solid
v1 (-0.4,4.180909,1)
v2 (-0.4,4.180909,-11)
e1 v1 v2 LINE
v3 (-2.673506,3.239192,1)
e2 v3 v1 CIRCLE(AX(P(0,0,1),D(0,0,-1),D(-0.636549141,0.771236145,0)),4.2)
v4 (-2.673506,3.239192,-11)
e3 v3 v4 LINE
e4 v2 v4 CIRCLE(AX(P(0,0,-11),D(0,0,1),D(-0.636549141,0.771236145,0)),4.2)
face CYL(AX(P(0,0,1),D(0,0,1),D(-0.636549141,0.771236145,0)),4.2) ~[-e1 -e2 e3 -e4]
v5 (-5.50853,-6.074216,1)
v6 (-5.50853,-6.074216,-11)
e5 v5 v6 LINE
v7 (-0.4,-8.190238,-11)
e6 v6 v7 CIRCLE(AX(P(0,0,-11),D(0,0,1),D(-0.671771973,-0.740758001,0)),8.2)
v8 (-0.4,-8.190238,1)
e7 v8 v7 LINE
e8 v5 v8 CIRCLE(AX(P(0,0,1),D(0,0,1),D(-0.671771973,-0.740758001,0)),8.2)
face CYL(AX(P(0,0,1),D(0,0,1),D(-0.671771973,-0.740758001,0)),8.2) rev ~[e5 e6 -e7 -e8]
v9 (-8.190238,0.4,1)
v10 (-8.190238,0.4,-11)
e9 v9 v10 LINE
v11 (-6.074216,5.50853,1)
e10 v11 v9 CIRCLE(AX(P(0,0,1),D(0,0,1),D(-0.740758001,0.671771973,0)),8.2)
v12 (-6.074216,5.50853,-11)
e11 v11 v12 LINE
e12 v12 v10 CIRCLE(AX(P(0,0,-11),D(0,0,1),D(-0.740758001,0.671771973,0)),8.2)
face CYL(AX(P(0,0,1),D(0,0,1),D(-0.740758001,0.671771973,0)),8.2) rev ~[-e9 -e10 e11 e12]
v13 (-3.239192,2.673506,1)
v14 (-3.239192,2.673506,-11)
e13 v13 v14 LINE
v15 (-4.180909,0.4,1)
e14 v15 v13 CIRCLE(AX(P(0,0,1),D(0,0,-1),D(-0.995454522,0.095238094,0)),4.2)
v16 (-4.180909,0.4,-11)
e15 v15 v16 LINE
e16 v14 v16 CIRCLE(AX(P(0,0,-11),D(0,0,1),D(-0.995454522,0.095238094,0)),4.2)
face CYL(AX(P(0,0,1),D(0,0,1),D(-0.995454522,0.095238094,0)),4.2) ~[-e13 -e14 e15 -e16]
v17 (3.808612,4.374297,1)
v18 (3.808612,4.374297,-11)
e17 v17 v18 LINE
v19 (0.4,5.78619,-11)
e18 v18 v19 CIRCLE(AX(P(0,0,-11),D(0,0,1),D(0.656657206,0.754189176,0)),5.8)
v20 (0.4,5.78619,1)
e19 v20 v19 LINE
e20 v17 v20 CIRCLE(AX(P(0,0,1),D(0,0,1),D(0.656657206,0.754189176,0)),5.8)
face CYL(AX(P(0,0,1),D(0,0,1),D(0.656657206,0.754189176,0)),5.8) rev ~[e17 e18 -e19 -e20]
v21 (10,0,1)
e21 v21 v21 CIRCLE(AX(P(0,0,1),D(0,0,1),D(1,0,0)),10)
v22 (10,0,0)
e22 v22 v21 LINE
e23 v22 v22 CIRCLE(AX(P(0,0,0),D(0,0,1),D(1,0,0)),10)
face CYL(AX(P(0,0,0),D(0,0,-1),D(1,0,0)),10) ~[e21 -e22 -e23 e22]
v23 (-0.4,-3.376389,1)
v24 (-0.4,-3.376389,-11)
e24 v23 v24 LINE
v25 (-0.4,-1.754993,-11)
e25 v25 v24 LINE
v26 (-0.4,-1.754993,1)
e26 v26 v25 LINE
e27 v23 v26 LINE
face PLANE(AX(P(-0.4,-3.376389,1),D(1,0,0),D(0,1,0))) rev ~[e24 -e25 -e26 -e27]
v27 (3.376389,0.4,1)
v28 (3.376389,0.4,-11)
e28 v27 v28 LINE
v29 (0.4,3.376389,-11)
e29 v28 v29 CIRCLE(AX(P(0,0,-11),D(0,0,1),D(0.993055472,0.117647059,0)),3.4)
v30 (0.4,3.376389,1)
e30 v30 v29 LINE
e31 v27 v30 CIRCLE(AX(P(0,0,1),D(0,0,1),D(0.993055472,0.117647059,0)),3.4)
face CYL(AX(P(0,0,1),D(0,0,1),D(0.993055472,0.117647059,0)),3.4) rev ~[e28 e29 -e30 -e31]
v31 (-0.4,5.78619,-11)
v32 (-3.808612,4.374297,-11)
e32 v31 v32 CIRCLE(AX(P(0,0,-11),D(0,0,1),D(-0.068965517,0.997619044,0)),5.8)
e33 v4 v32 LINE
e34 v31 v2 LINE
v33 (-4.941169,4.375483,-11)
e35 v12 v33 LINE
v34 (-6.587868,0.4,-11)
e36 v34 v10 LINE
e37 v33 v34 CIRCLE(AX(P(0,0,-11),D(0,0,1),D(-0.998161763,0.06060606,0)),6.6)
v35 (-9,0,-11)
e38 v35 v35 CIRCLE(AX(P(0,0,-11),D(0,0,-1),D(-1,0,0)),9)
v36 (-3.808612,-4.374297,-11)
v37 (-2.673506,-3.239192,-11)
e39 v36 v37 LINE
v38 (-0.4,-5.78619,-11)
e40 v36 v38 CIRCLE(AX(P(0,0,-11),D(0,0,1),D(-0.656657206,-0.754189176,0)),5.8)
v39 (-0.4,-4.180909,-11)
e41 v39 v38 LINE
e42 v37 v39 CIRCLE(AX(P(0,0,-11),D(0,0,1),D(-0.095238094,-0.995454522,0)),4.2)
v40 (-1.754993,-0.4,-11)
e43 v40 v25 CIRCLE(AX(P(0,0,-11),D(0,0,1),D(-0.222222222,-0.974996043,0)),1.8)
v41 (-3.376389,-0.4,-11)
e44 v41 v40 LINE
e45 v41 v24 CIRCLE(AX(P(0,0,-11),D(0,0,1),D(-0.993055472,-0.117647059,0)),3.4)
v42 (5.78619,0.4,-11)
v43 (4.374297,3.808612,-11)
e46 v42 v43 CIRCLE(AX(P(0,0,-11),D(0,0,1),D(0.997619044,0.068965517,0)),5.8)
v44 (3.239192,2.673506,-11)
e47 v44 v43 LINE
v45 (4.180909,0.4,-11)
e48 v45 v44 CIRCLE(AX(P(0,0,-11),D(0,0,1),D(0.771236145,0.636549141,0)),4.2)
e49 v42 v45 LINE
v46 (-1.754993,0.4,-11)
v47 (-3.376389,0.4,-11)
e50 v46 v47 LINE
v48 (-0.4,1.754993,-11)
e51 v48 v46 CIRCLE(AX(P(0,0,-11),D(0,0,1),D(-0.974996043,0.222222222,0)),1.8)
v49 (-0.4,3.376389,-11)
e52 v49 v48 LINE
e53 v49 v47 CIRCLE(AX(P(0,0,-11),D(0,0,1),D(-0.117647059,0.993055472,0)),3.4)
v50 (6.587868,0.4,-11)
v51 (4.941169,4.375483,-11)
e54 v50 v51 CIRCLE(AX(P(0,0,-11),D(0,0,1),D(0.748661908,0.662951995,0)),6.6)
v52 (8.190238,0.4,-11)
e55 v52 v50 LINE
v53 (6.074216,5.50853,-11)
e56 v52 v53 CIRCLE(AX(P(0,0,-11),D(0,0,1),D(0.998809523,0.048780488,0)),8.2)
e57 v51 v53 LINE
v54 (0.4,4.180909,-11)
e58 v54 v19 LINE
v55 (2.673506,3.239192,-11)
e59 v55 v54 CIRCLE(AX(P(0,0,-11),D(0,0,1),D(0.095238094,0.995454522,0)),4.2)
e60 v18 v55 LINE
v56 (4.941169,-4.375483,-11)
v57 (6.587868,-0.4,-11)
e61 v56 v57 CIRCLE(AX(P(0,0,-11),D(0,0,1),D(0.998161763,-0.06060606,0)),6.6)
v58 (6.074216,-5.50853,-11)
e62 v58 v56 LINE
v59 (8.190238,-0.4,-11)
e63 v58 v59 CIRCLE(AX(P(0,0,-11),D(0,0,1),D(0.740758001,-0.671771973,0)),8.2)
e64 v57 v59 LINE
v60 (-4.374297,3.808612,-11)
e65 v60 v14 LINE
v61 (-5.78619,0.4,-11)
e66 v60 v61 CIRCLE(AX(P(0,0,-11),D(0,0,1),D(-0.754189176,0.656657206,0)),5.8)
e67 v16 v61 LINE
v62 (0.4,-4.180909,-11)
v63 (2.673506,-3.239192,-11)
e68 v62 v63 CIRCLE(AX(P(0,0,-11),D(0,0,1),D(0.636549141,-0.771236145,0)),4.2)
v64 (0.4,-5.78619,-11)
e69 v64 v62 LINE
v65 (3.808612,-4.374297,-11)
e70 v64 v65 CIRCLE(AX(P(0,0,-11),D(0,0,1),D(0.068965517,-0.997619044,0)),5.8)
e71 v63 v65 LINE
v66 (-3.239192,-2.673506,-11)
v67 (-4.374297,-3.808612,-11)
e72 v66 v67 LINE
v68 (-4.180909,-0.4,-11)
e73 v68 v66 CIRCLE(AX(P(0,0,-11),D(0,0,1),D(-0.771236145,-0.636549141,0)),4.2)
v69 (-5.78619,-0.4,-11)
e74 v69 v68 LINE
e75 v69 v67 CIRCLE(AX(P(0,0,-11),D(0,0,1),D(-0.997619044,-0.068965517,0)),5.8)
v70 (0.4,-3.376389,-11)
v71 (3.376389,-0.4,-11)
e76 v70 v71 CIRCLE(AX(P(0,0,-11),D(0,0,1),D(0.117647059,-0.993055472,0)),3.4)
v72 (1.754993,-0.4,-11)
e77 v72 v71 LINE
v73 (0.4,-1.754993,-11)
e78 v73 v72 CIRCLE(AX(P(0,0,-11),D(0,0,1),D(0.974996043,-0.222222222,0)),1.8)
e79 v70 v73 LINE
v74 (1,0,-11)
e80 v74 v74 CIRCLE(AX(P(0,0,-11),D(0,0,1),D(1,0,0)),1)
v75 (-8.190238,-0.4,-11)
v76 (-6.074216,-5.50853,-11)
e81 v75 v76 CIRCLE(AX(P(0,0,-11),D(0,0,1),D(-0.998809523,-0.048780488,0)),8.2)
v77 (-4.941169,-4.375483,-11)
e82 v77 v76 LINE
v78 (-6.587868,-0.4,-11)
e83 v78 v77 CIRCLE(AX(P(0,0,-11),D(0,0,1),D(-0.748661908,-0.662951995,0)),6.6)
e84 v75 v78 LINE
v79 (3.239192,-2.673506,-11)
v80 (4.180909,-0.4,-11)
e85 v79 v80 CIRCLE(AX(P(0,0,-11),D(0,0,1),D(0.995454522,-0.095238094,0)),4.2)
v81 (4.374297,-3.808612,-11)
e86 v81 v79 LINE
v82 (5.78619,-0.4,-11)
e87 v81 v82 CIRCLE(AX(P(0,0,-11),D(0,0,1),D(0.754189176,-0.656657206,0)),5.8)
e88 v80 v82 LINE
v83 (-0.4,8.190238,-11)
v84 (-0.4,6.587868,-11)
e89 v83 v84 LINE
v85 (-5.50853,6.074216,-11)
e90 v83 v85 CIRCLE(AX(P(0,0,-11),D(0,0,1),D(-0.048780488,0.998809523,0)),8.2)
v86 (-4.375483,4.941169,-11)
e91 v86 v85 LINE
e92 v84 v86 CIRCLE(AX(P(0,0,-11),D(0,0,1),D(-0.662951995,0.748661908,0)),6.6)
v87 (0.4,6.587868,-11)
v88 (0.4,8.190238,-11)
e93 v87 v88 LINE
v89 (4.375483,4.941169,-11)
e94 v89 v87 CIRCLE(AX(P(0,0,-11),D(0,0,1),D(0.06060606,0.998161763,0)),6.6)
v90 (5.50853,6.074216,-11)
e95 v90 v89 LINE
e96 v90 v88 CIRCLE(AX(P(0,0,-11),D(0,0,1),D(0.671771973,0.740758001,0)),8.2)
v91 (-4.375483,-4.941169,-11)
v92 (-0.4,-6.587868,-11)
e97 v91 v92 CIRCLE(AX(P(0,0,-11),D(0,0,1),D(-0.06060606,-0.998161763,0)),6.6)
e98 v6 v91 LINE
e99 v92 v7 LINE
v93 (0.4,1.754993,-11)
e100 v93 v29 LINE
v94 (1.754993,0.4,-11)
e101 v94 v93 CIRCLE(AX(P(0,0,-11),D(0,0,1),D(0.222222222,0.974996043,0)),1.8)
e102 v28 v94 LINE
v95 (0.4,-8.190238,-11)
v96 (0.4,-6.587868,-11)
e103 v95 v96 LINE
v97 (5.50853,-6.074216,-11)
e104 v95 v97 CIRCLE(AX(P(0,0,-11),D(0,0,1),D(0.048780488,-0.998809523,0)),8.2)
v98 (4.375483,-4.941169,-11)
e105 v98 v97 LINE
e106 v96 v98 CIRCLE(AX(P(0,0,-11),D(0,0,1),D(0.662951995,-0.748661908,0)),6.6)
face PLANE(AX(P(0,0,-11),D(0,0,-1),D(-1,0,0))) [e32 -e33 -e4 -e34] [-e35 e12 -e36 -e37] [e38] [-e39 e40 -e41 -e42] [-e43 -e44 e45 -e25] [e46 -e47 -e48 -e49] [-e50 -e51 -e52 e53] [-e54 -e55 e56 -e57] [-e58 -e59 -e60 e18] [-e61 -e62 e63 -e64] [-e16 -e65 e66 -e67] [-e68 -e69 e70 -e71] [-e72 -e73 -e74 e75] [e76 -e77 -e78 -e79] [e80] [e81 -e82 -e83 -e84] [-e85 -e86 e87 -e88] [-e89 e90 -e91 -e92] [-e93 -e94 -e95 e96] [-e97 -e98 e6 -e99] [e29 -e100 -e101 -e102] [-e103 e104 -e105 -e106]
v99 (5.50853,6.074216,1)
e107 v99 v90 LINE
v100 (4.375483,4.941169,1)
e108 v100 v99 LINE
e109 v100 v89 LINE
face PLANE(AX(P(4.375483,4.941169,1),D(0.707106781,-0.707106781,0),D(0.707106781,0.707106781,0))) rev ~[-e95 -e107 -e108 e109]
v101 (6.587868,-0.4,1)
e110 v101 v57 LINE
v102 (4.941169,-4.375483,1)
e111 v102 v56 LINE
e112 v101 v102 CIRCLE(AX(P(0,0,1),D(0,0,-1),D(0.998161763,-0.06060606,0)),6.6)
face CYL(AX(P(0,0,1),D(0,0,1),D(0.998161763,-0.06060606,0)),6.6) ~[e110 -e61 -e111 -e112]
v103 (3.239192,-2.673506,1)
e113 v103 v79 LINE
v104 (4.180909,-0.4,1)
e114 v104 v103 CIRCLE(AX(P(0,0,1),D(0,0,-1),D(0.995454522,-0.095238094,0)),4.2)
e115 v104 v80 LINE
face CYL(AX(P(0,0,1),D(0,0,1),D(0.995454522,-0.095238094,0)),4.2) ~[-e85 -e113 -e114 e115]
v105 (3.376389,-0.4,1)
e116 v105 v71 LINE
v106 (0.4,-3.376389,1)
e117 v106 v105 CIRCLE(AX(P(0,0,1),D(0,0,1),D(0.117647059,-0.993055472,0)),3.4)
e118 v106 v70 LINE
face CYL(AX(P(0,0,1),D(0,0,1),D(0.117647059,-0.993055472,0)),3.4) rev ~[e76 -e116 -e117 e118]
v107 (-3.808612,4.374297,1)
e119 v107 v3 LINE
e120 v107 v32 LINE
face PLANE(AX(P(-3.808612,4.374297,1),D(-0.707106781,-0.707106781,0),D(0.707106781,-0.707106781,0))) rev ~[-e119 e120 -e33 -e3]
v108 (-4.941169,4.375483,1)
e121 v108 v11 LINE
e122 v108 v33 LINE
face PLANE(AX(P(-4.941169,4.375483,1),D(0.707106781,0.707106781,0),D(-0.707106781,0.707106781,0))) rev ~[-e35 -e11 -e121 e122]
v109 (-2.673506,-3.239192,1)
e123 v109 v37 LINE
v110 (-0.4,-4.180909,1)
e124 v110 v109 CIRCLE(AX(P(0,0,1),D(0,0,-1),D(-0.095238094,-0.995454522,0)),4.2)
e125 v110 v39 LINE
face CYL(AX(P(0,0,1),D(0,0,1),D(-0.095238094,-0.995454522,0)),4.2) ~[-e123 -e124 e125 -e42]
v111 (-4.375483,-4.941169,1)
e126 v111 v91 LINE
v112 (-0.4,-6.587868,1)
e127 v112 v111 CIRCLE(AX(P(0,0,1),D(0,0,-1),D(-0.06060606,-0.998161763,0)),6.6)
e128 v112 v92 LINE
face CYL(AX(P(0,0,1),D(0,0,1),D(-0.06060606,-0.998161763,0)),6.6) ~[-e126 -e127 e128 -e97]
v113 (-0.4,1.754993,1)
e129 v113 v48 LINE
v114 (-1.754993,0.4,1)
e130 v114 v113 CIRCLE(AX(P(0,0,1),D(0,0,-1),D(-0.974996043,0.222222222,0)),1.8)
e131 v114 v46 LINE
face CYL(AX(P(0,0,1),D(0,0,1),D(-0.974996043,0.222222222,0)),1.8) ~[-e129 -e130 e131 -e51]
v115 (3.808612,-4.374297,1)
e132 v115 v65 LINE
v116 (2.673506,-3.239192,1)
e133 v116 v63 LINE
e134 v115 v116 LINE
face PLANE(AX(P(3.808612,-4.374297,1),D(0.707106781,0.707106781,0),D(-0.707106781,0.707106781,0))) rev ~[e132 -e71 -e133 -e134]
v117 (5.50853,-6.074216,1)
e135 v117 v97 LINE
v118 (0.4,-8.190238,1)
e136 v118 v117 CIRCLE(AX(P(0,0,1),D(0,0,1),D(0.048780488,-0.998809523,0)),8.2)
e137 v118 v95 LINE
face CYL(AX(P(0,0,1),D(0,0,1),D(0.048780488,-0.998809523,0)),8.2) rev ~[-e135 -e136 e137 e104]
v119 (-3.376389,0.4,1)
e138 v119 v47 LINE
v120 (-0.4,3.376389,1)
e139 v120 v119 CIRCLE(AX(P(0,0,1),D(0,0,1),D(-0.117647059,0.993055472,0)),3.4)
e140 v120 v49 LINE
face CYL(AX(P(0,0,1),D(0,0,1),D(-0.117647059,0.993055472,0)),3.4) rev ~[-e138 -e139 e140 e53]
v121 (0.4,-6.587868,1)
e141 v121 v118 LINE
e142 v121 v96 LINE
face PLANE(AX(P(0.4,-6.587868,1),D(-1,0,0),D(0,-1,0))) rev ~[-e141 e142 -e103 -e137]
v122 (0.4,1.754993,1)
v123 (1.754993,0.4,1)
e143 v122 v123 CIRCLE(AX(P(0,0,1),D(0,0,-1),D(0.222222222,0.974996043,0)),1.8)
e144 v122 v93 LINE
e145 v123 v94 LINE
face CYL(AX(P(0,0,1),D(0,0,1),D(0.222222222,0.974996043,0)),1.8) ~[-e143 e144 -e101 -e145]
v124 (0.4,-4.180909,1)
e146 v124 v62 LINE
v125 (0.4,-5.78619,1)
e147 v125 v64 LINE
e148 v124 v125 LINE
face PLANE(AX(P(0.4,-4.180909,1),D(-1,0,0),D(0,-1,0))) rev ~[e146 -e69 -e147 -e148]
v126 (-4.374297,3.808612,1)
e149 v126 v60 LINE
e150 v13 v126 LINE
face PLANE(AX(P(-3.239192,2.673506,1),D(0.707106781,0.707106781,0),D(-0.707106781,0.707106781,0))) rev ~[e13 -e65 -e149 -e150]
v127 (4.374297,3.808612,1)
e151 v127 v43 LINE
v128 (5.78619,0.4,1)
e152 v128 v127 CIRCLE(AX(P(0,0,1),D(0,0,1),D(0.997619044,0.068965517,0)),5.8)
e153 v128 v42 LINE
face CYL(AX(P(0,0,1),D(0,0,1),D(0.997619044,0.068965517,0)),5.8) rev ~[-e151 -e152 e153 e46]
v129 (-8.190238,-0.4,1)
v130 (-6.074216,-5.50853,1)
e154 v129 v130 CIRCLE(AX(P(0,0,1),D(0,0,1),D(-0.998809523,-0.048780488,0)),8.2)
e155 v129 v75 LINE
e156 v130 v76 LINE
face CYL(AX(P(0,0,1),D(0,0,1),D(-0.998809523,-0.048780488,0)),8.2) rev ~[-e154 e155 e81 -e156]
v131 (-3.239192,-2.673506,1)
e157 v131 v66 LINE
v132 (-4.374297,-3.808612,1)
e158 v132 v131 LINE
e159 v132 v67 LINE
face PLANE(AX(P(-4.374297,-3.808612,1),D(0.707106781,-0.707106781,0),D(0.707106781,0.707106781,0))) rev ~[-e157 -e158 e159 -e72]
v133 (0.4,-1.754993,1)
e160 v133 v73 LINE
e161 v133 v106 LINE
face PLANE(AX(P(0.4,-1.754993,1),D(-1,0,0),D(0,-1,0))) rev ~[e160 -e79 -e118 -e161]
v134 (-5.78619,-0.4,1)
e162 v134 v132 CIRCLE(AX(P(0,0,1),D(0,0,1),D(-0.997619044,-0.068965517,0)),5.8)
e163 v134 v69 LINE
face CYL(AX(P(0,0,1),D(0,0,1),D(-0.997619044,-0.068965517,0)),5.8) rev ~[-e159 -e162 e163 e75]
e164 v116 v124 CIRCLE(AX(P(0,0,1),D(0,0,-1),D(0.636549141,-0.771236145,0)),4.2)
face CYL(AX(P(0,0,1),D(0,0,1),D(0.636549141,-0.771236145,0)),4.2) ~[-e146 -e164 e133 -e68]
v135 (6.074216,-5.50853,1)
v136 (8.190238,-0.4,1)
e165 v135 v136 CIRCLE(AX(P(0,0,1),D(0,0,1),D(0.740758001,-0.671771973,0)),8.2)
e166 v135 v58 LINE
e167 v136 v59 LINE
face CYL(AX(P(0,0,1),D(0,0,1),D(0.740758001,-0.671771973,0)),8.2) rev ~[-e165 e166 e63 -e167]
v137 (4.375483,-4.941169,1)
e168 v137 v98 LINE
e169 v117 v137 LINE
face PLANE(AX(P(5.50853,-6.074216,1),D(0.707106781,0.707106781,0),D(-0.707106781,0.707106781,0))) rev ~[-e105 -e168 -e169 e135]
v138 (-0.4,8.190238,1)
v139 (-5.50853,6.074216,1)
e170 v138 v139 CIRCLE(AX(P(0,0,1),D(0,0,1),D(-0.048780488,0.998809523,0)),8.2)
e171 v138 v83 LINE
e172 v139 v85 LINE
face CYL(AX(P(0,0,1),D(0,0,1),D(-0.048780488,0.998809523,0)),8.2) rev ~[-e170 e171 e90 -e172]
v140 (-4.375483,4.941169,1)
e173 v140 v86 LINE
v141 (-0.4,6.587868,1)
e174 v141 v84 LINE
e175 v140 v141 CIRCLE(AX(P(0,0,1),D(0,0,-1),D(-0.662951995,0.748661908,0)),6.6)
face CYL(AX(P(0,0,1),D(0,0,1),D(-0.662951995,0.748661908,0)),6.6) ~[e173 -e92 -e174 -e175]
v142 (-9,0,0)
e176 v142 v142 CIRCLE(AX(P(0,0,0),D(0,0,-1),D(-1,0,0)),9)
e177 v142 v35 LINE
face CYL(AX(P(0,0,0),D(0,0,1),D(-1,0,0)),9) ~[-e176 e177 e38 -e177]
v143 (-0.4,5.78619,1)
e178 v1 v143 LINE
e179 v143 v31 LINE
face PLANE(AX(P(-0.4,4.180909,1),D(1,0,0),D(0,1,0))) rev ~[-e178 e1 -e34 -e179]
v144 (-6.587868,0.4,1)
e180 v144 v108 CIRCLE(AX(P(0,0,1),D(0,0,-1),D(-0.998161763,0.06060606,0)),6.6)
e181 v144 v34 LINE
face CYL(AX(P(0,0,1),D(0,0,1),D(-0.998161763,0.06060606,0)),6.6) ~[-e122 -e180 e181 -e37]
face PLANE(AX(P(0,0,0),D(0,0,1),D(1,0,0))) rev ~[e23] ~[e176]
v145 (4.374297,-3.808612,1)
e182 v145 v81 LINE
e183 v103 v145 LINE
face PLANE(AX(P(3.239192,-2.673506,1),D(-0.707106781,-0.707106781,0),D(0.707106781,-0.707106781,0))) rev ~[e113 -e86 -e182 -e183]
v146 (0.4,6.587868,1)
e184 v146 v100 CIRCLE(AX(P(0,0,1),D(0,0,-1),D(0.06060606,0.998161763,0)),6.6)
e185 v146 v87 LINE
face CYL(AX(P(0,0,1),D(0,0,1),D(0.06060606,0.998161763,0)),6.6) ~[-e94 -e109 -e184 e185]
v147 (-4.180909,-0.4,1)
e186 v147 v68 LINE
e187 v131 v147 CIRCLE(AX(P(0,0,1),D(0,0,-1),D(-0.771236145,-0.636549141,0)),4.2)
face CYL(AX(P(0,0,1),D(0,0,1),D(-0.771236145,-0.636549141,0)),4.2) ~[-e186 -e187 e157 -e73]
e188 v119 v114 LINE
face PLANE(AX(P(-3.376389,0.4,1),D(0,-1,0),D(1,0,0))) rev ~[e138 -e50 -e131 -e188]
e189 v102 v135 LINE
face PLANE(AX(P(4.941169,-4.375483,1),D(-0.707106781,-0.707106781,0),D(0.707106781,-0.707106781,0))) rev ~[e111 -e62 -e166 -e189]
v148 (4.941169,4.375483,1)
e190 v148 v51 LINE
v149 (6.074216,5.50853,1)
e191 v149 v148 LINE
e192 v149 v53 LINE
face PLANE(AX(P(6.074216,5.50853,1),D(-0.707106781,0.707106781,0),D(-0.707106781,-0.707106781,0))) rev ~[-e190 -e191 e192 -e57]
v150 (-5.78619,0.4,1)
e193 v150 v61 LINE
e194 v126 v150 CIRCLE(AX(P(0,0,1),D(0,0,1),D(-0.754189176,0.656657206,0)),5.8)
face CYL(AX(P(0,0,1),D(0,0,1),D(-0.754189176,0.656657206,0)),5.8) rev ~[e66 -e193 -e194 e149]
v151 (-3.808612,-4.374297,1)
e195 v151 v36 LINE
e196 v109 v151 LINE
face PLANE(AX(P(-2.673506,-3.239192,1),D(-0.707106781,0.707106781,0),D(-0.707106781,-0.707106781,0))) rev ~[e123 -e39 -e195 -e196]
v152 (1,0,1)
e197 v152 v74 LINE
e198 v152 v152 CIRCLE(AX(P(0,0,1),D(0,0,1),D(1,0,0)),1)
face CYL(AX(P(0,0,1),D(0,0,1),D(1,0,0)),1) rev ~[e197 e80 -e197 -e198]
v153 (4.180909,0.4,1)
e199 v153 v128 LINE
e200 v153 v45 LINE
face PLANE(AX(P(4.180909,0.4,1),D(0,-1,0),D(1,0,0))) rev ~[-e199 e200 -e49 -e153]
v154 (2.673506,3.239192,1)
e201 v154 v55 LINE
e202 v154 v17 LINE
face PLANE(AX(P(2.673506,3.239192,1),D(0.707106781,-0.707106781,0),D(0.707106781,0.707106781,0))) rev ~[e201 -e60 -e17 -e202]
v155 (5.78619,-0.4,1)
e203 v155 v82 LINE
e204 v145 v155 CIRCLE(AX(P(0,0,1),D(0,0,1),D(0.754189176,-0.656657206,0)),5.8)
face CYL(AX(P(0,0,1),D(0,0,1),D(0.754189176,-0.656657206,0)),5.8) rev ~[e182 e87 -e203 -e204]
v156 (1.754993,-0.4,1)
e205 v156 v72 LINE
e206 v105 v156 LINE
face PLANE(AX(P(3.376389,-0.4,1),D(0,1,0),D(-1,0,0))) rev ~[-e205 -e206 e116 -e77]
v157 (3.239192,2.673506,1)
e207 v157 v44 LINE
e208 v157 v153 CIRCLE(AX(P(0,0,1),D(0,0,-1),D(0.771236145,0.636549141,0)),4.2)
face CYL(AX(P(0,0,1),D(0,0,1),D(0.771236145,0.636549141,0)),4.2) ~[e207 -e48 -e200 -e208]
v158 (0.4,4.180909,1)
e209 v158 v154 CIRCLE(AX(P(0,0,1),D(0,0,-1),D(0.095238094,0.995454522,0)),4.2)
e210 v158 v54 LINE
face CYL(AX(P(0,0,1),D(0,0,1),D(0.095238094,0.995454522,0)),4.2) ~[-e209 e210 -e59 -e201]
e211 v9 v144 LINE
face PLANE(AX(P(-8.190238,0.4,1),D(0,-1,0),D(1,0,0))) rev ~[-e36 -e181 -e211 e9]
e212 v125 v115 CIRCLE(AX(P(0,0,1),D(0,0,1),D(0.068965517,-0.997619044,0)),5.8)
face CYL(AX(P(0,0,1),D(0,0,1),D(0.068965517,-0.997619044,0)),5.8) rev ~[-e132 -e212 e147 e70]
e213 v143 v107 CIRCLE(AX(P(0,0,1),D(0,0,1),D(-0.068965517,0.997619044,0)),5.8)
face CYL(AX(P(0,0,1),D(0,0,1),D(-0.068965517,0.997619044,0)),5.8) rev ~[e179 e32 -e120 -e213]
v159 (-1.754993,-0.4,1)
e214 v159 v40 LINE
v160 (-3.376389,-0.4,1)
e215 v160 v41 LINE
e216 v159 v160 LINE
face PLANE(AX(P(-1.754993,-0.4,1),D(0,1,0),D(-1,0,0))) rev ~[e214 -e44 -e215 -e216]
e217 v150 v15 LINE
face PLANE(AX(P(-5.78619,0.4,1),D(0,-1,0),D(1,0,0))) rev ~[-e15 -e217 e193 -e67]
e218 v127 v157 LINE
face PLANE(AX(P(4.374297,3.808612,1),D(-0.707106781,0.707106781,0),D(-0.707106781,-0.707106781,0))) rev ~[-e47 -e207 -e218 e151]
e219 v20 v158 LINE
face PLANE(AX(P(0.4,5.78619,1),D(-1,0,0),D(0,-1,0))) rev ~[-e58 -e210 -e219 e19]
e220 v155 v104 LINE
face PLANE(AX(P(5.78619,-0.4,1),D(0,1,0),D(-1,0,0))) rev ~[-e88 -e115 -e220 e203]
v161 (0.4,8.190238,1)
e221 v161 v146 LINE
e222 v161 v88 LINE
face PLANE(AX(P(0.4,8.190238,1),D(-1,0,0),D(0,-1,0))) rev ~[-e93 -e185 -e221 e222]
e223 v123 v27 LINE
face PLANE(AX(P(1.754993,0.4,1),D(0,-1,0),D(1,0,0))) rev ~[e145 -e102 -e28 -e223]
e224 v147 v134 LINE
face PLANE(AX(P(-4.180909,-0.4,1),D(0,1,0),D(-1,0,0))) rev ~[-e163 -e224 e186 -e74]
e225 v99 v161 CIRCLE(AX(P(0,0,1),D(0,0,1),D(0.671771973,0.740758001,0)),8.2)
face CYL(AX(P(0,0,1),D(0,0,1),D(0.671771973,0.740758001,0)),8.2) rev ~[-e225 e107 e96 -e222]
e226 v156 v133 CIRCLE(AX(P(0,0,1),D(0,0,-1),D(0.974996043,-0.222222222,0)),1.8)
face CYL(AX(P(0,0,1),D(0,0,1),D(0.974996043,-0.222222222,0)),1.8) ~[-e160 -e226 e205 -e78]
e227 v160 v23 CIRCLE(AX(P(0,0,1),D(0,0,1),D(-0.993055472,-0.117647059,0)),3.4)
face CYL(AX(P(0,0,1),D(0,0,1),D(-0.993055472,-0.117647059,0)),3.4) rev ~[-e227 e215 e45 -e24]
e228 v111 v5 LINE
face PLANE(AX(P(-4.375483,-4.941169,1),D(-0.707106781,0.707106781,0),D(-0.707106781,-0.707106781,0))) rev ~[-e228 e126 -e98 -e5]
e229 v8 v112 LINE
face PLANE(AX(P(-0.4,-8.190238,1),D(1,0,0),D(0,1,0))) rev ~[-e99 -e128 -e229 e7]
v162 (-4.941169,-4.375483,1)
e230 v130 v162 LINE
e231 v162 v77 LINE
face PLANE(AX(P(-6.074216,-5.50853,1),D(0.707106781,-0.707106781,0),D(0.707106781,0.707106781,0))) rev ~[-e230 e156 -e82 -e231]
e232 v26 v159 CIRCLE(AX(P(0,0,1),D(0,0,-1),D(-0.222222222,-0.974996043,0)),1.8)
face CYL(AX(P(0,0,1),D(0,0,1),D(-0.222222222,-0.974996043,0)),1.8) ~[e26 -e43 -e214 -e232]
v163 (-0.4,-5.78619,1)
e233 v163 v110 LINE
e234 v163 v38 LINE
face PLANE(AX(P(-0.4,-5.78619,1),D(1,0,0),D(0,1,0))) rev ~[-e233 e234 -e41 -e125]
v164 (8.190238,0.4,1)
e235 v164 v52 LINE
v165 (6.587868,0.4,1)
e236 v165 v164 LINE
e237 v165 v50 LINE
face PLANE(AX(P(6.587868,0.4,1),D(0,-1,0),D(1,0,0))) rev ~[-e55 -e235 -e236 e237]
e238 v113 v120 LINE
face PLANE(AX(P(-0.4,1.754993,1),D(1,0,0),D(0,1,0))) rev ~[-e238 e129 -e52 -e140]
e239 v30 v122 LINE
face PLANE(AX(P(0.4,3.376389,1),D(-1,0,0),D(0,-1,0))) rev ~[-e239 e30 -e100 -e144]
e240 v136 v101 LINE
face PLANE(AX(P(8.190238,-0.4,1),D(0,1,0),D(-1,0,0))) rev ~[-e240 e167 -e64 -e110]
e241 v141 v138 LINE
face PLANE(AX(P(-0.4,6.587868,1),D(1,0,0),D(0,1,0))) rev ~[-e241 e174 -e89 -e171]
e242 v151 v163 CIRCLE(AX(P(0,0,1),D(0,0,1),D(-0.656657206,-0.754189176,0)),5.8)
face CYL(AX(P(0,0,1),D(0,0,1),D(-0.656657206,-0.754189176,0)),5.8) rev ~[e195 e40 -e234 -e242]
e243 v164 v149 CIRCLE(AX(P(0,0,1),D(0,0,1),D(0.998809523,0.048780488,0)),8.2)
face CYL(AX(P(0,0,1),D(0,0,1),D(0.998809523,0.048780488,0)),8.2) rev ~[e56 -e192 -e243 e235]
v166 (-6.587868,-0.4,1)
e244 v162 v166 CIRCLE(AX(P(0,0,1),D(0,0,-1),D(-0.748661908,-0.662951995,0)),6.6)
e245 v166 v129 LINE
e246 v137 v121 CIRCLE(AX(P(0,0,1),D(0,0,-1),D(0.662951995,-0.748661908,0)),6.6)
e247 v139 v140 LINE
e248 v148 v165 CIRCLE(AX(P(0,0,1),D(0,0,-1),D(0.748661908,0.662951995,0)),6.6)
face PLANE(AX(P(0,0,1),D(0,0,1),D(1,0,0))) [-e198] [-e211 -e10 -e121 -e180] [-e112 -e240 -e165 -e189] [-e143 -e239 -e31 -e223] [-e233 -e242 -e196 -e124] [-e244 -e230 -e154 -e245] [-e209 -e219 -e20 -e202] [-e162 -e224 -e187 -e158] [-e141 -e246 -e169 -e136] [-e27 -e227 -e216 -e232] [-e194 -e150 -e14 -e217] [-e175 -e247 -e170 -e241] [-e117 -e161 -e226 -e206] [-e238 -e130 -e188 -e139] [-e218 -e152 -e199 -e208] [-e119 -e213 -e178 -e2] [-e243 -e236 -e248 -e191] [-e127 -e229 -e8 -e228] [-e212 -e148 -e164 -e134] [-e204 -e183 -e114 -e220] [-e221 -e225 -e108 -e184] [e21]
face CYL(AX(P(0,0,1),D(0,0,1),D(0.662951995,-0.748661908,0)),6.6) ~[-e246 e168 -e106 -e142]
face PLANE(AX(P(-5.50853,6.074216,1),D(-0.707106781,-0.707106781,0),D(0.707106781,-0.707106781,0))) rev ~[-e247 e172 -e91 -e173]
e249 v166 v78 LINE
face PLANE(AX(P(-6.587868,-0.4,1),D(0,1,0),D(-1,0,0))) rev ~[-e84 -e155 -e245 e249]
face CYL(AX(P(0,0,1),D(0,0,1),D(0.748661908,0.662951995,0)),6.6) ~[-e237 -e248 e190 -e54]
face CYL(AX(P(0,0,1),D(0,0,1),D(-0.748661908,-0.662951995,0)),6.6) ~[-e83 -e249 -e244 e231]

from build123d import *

# Parameters (mm, degrees)
SKETCH1_R           = 10
BOSS_EXTRUDE1_DEPTH = 1
SKETCH2_R           = 9
BOSS_EXTRUDE2_DEPTH = 11
SKETCH3_R           = 1
CUT_EXTRUDE2_DEPTH  = 19.547236991


with BuildPart() as part:
    # Sketch1 → Boss-Extrude1 (new body)
    with BuildSketch(Plane.XY):
        Circle(SKETCH1_R)
    extrude(amount=BOSS_EXTRUDE1_DEPTH)

    # Sketch2 → Boss-Extrude2 (add)
    with BuildSketch(Plane(origin=(0, 0, 0), x_dir=(-1, 0, 0), z_dir=(0, 0, -1))):
        Circle(SKETCH2_R)
    extrude(amount=BOSS_EXTRUDE2_DEPTH)

    # Sketch3 → Cut-Extrude2 (cut, through all)
    with BuildSketch(Plane.XY.offset(1)):
        Circle(SKETCH3_R)
        with BuildLine():
            ThreePointArc((-1.754992877, 0.4), (-1.272792206, 1.272792206), (-0.4, 1.754992877))
            Line((-0.4, 1.754992877), (-0.4, 3.376388603))
            ThreePointArc((-0.4, 3.376388603), (-2.404163056, 2.404163056), (-3.376388603, 0.4))
            Line((-3.376388603, 0.4), (-1.754992877, 0.4))
        make_face()
        with BuildLine():
            Line((0.4, 3.376388603), (0.4, 1.754992877))
            ThreePointArc((0.4, 1.754992877), (1.272792206, 1.272792206), (1.754992877, 0.4))
            Line((1.754992877, 0.4), (3.376388603, 0.4))
            ThreePointArc((3.376388603, 0.4), (2.404163056, 2.404163056), (0.4, 3.376388603))
        make_face()
        with BuildLine():
            Line((3.376388603, -0.4), (1.754992877, -0.4))
            ThreePointArc((1.754992877, -0.4), (1.272792206, -1.272792206), (0.4, -1.754992877))
            Line((0.4, -1.754992877), (0.4, -3.376388603))
            ThreePointArc((0.4, -3.376388603), (2.404163056, -2.404163056), (3.376388603, -0.4))
        make_face()
        with BuildLine():
            ThreePointArc((-0.4, -1.754992877), (-1.272792206, -1.272792206), (-1.754992877, -0.4))
            Line((-1.754992877, -0.4), (-3.376388603, -0.4))
            ThreePointArc((-3.376388603, -0.4), (-2.404163056, -2.404163056), (-0.4, -3.376388603))
            Line((-0.4, -3.376388603), (-0.4, -1.754992877))
        make_face()
        with BuildLine():
            ThreePointArc((0.4, 4.180908992), (1.607270416, 3.880294037), (2.673506387, 3.239191812))
            Line((2.673506387, 3.239191812), (3.808611797, 4.374297222))
            ThreePointArc((3.808611797, 4.374297222), (2.219563908, 5.358501289), (0.4, 5.786190457))
            Line((0.4, 5.786190457), (0.4, 4.180908992))
        make_face()
        with BuildLine():
            ThreePointArc((-2.673506387, 3.239191812), (-1.607270416, 3.880294037), (-0.4, 4.180908992))
            Line((-0.4, 4.180908992), (-0.4, 5.786190457))
            ThreePointArc((-0.4, 5.786190457), (-2.219563908, 5.358501289), (-3.808611797, 4.374297222))
            Line((-3.808611797, 4.374297222), (-2.673506387, 3.239191812))
        make_face()
        with BuildLine():
            ThreePointArc((-4.180908992, 0.4), (-3.880294037, 1.607270416), (-3.239191812, 2.673506387))
            Line((-3.239191812, 2.673506387), (-4.374297222, 3.808611797))
            ThreePointArc((-4.374297222, 3.808611797), (-5.358501289, 2.219563908), (-5.786190457, 0.4))
            Line((-5.786190457, 0.4), (-4.180908992, 0.4))
        make_face()
        with BuildLine():
            ThreePointArc((-3.239191812, -2.673506387), (-3.880294037, -1.607270416), (-4.180908992, -0.4))
            Line((-4.180908992, -0.4), (-5.786190457, -0.4))
            ThreePointArc((-5.786190457, -0.4), (-5.358501289, -2.219563908), (-4.374297222, -3.808611797))
            Line((-4.374297222, -3.808611797), (-3.239191812, -2.673506387))
        make_face()
        with BuildLine():
            Line((-0.4, -5.786190457), (-0.4, -4.180908992))
            ThreePointArc((-0.4, -4.180908992), (-1.607270416, -3.880294037), (-2.673506387, -3.239191812))
            Line((-2.673506387, -3.239191812), (-3.808611797, -4.374297222))
            ThreePointArc((-3.808611797, -4.374297222), (-2.219563908, -5.358501289), (-0.4, -5.786190457))
        make_face()
        with BuildLine():
            Line((3.808611797, -4.374297222), (2.673506387, -3.239191812))
            ThreePointArc((2.673506387, -3.239191812), (1.607270416, -3.880294037), (0.4, -4.180908992))
            Line((0.4, -4.180908992), (0.4, -5.786190457))
            ThreePointArc((0.4, -5.786190457), (2.219563908, -5.358501289), (3.808611797, -4.374297222))
        make_face()
        with BuildLine():
            Line((5.786190457, -0.4), (4.180908992, -0.4))
            ThreePointArc((4.180908992, -0.4), (3.880294037, -1.607270416), (3.239191812, -2.673506387))
            Line((3.239191812, -2.673506387), (4.374297222, -3.808611797))
            ThreePointArc((4.374297222, -3.808611797), (5.358501289, -2.219563908), (5.786190457, -0.4))
        make_face()
        with BuildLine():
            Line((4.374297222, 3.808611797), (3.239191812, 2.673506387))
            ThreePointArc((3.239191812, 2.673506387), (3.880294037, 1.607270416), (4.180908992, 0.4))
            Line((4.180908992, 0.4), (5.786190457, 0.4))
            ThreePointArc((5.786190457, 0.4), (5.358501289, 2.219563908), (4.374297222, 3.808611797))
        make_face()
        with BuildLine():
            ThreePointArc((8.190238092, 0.4), (7.575812167, 3.138004145), (6.074215607, 5.508530182))
            Line((6.074215607, 5.508530182), (4.941168592, 4.375483167))
            ThreePointArc((4.941168592, 4.375483167), (6.097604915, 2.525710654), (6.587867637, 0.4))
            Line((6.587867637, 0.4), (8.190238092, 0.4))
        make_face()
        with BuildLine():
            ThreePointArc((5.508530182, 6.074215607), (3.138004145, 7.575812167), (0.4, 8.190238092))
            Line((0.4, 8.190238092), (0.4, 6.587867637))
            ThreePointArc((0.4, 6.587867637), (2.525710654, 6.097604915), (4.375483167, 4.941168592))
            Line((4.375483167, 4.941168592), (5.508530182, 6.074215607))
        make_face()
        with BuildLine():
            Line((-0.4, 6.587867637), (-0.4, 8.190238092))
            ThreePointArc((-0.4, 8.190238092), (-3.138004145, 7.575812167), (-5.508530182, 6.074215607))
            Line((-5.508530182, 6.074215607), (-4.375483167, 4.941168592))
            ThreePointArc((-4.375483167, 4.941168592), (-2.525710654, 6.097604915), (-0.4, 6.587867637))
        make_face()
        with BuildLine():
            Line((-4.941168592, 4.375483167), (-6.074215607, 5.508530182))
            ThreePointArc((-6.074215607, 5.508530182), (-7.575812167, 3.138004145), (-8.190238092, 0.4))
            Line((-8.190238092, 0.4), (-6.587867637, 0.4))
            ThreePointArc((-6.587867637, 0.4), (-6.097604915, 2.525710654), (-4.941168592, 4.375483167))
        make_face()
        with BuildLine():
            Line((-6.587867637, -0.4), (-8.190238092, -0.4))
            ThreePointArc((-8.190238092, -0.4), (-7.575812167, -3.138004145), (-6.074215607, -5.508530182))
            Line((-6.074215607, -5.508530182), (-4.941168592, -4.375483167))
            ThreePointArc((-4.941168592, -4.375483167), (-6.097604915, -2.525710654), (-6.587867637, -0.4))
        make_face()
        with BuildLine():
            Line((-4.375483167, -4.941168592), (-5.508530182, -6.074215607))
            ThreePointArc((-5.508530182, -6.074215607), (-3.138004145, -7.575812167), (-0.4, -8.190238092))
            Line((-0.4, -8.190238092), (-0.4, -6.587867637))
            ThreePointArc((-0.4, -6.587867637), (-2.525710654, -6.097604915), (-4.375483167, -4.941168592))
        make_face()
        with BuildLine():
            ThreePointArc((0.4, -8.190238092), (3.138004145, -7.575812167), (5.508530182, -6.074215607))
            Line((5.508530182, -6.074215607), (4.375483167, -4.941168592))
            ThreePointArc((4.375483167, -4.941168592), (2.525710654, -6.097604915), (0.4, -6.587867637))
            Line((0.4, -6.587867637), (0.4, -8.190238092))
        make_face()
        with BuildLine():
            ThreePointArc((6.074215607, -5.508530182), (7.575812167, -3.138004145), (8.190238092, -0.4))
            Line((8.190238092, -0.4), (6.587867637, -0.4))
            ThreePointArc((6.587867637, -0.4), (6.097604915, -2.525710654), (4.941168592, -4.375483167))
            Line((4.941168592, -4.375483167), (6.074215607, -5.508530182))
        make_face()
    extrude(amount=-CUT_EXTRUDE2_DEPTH, mode=Mode.SUBTRACT)


solid = part.part
